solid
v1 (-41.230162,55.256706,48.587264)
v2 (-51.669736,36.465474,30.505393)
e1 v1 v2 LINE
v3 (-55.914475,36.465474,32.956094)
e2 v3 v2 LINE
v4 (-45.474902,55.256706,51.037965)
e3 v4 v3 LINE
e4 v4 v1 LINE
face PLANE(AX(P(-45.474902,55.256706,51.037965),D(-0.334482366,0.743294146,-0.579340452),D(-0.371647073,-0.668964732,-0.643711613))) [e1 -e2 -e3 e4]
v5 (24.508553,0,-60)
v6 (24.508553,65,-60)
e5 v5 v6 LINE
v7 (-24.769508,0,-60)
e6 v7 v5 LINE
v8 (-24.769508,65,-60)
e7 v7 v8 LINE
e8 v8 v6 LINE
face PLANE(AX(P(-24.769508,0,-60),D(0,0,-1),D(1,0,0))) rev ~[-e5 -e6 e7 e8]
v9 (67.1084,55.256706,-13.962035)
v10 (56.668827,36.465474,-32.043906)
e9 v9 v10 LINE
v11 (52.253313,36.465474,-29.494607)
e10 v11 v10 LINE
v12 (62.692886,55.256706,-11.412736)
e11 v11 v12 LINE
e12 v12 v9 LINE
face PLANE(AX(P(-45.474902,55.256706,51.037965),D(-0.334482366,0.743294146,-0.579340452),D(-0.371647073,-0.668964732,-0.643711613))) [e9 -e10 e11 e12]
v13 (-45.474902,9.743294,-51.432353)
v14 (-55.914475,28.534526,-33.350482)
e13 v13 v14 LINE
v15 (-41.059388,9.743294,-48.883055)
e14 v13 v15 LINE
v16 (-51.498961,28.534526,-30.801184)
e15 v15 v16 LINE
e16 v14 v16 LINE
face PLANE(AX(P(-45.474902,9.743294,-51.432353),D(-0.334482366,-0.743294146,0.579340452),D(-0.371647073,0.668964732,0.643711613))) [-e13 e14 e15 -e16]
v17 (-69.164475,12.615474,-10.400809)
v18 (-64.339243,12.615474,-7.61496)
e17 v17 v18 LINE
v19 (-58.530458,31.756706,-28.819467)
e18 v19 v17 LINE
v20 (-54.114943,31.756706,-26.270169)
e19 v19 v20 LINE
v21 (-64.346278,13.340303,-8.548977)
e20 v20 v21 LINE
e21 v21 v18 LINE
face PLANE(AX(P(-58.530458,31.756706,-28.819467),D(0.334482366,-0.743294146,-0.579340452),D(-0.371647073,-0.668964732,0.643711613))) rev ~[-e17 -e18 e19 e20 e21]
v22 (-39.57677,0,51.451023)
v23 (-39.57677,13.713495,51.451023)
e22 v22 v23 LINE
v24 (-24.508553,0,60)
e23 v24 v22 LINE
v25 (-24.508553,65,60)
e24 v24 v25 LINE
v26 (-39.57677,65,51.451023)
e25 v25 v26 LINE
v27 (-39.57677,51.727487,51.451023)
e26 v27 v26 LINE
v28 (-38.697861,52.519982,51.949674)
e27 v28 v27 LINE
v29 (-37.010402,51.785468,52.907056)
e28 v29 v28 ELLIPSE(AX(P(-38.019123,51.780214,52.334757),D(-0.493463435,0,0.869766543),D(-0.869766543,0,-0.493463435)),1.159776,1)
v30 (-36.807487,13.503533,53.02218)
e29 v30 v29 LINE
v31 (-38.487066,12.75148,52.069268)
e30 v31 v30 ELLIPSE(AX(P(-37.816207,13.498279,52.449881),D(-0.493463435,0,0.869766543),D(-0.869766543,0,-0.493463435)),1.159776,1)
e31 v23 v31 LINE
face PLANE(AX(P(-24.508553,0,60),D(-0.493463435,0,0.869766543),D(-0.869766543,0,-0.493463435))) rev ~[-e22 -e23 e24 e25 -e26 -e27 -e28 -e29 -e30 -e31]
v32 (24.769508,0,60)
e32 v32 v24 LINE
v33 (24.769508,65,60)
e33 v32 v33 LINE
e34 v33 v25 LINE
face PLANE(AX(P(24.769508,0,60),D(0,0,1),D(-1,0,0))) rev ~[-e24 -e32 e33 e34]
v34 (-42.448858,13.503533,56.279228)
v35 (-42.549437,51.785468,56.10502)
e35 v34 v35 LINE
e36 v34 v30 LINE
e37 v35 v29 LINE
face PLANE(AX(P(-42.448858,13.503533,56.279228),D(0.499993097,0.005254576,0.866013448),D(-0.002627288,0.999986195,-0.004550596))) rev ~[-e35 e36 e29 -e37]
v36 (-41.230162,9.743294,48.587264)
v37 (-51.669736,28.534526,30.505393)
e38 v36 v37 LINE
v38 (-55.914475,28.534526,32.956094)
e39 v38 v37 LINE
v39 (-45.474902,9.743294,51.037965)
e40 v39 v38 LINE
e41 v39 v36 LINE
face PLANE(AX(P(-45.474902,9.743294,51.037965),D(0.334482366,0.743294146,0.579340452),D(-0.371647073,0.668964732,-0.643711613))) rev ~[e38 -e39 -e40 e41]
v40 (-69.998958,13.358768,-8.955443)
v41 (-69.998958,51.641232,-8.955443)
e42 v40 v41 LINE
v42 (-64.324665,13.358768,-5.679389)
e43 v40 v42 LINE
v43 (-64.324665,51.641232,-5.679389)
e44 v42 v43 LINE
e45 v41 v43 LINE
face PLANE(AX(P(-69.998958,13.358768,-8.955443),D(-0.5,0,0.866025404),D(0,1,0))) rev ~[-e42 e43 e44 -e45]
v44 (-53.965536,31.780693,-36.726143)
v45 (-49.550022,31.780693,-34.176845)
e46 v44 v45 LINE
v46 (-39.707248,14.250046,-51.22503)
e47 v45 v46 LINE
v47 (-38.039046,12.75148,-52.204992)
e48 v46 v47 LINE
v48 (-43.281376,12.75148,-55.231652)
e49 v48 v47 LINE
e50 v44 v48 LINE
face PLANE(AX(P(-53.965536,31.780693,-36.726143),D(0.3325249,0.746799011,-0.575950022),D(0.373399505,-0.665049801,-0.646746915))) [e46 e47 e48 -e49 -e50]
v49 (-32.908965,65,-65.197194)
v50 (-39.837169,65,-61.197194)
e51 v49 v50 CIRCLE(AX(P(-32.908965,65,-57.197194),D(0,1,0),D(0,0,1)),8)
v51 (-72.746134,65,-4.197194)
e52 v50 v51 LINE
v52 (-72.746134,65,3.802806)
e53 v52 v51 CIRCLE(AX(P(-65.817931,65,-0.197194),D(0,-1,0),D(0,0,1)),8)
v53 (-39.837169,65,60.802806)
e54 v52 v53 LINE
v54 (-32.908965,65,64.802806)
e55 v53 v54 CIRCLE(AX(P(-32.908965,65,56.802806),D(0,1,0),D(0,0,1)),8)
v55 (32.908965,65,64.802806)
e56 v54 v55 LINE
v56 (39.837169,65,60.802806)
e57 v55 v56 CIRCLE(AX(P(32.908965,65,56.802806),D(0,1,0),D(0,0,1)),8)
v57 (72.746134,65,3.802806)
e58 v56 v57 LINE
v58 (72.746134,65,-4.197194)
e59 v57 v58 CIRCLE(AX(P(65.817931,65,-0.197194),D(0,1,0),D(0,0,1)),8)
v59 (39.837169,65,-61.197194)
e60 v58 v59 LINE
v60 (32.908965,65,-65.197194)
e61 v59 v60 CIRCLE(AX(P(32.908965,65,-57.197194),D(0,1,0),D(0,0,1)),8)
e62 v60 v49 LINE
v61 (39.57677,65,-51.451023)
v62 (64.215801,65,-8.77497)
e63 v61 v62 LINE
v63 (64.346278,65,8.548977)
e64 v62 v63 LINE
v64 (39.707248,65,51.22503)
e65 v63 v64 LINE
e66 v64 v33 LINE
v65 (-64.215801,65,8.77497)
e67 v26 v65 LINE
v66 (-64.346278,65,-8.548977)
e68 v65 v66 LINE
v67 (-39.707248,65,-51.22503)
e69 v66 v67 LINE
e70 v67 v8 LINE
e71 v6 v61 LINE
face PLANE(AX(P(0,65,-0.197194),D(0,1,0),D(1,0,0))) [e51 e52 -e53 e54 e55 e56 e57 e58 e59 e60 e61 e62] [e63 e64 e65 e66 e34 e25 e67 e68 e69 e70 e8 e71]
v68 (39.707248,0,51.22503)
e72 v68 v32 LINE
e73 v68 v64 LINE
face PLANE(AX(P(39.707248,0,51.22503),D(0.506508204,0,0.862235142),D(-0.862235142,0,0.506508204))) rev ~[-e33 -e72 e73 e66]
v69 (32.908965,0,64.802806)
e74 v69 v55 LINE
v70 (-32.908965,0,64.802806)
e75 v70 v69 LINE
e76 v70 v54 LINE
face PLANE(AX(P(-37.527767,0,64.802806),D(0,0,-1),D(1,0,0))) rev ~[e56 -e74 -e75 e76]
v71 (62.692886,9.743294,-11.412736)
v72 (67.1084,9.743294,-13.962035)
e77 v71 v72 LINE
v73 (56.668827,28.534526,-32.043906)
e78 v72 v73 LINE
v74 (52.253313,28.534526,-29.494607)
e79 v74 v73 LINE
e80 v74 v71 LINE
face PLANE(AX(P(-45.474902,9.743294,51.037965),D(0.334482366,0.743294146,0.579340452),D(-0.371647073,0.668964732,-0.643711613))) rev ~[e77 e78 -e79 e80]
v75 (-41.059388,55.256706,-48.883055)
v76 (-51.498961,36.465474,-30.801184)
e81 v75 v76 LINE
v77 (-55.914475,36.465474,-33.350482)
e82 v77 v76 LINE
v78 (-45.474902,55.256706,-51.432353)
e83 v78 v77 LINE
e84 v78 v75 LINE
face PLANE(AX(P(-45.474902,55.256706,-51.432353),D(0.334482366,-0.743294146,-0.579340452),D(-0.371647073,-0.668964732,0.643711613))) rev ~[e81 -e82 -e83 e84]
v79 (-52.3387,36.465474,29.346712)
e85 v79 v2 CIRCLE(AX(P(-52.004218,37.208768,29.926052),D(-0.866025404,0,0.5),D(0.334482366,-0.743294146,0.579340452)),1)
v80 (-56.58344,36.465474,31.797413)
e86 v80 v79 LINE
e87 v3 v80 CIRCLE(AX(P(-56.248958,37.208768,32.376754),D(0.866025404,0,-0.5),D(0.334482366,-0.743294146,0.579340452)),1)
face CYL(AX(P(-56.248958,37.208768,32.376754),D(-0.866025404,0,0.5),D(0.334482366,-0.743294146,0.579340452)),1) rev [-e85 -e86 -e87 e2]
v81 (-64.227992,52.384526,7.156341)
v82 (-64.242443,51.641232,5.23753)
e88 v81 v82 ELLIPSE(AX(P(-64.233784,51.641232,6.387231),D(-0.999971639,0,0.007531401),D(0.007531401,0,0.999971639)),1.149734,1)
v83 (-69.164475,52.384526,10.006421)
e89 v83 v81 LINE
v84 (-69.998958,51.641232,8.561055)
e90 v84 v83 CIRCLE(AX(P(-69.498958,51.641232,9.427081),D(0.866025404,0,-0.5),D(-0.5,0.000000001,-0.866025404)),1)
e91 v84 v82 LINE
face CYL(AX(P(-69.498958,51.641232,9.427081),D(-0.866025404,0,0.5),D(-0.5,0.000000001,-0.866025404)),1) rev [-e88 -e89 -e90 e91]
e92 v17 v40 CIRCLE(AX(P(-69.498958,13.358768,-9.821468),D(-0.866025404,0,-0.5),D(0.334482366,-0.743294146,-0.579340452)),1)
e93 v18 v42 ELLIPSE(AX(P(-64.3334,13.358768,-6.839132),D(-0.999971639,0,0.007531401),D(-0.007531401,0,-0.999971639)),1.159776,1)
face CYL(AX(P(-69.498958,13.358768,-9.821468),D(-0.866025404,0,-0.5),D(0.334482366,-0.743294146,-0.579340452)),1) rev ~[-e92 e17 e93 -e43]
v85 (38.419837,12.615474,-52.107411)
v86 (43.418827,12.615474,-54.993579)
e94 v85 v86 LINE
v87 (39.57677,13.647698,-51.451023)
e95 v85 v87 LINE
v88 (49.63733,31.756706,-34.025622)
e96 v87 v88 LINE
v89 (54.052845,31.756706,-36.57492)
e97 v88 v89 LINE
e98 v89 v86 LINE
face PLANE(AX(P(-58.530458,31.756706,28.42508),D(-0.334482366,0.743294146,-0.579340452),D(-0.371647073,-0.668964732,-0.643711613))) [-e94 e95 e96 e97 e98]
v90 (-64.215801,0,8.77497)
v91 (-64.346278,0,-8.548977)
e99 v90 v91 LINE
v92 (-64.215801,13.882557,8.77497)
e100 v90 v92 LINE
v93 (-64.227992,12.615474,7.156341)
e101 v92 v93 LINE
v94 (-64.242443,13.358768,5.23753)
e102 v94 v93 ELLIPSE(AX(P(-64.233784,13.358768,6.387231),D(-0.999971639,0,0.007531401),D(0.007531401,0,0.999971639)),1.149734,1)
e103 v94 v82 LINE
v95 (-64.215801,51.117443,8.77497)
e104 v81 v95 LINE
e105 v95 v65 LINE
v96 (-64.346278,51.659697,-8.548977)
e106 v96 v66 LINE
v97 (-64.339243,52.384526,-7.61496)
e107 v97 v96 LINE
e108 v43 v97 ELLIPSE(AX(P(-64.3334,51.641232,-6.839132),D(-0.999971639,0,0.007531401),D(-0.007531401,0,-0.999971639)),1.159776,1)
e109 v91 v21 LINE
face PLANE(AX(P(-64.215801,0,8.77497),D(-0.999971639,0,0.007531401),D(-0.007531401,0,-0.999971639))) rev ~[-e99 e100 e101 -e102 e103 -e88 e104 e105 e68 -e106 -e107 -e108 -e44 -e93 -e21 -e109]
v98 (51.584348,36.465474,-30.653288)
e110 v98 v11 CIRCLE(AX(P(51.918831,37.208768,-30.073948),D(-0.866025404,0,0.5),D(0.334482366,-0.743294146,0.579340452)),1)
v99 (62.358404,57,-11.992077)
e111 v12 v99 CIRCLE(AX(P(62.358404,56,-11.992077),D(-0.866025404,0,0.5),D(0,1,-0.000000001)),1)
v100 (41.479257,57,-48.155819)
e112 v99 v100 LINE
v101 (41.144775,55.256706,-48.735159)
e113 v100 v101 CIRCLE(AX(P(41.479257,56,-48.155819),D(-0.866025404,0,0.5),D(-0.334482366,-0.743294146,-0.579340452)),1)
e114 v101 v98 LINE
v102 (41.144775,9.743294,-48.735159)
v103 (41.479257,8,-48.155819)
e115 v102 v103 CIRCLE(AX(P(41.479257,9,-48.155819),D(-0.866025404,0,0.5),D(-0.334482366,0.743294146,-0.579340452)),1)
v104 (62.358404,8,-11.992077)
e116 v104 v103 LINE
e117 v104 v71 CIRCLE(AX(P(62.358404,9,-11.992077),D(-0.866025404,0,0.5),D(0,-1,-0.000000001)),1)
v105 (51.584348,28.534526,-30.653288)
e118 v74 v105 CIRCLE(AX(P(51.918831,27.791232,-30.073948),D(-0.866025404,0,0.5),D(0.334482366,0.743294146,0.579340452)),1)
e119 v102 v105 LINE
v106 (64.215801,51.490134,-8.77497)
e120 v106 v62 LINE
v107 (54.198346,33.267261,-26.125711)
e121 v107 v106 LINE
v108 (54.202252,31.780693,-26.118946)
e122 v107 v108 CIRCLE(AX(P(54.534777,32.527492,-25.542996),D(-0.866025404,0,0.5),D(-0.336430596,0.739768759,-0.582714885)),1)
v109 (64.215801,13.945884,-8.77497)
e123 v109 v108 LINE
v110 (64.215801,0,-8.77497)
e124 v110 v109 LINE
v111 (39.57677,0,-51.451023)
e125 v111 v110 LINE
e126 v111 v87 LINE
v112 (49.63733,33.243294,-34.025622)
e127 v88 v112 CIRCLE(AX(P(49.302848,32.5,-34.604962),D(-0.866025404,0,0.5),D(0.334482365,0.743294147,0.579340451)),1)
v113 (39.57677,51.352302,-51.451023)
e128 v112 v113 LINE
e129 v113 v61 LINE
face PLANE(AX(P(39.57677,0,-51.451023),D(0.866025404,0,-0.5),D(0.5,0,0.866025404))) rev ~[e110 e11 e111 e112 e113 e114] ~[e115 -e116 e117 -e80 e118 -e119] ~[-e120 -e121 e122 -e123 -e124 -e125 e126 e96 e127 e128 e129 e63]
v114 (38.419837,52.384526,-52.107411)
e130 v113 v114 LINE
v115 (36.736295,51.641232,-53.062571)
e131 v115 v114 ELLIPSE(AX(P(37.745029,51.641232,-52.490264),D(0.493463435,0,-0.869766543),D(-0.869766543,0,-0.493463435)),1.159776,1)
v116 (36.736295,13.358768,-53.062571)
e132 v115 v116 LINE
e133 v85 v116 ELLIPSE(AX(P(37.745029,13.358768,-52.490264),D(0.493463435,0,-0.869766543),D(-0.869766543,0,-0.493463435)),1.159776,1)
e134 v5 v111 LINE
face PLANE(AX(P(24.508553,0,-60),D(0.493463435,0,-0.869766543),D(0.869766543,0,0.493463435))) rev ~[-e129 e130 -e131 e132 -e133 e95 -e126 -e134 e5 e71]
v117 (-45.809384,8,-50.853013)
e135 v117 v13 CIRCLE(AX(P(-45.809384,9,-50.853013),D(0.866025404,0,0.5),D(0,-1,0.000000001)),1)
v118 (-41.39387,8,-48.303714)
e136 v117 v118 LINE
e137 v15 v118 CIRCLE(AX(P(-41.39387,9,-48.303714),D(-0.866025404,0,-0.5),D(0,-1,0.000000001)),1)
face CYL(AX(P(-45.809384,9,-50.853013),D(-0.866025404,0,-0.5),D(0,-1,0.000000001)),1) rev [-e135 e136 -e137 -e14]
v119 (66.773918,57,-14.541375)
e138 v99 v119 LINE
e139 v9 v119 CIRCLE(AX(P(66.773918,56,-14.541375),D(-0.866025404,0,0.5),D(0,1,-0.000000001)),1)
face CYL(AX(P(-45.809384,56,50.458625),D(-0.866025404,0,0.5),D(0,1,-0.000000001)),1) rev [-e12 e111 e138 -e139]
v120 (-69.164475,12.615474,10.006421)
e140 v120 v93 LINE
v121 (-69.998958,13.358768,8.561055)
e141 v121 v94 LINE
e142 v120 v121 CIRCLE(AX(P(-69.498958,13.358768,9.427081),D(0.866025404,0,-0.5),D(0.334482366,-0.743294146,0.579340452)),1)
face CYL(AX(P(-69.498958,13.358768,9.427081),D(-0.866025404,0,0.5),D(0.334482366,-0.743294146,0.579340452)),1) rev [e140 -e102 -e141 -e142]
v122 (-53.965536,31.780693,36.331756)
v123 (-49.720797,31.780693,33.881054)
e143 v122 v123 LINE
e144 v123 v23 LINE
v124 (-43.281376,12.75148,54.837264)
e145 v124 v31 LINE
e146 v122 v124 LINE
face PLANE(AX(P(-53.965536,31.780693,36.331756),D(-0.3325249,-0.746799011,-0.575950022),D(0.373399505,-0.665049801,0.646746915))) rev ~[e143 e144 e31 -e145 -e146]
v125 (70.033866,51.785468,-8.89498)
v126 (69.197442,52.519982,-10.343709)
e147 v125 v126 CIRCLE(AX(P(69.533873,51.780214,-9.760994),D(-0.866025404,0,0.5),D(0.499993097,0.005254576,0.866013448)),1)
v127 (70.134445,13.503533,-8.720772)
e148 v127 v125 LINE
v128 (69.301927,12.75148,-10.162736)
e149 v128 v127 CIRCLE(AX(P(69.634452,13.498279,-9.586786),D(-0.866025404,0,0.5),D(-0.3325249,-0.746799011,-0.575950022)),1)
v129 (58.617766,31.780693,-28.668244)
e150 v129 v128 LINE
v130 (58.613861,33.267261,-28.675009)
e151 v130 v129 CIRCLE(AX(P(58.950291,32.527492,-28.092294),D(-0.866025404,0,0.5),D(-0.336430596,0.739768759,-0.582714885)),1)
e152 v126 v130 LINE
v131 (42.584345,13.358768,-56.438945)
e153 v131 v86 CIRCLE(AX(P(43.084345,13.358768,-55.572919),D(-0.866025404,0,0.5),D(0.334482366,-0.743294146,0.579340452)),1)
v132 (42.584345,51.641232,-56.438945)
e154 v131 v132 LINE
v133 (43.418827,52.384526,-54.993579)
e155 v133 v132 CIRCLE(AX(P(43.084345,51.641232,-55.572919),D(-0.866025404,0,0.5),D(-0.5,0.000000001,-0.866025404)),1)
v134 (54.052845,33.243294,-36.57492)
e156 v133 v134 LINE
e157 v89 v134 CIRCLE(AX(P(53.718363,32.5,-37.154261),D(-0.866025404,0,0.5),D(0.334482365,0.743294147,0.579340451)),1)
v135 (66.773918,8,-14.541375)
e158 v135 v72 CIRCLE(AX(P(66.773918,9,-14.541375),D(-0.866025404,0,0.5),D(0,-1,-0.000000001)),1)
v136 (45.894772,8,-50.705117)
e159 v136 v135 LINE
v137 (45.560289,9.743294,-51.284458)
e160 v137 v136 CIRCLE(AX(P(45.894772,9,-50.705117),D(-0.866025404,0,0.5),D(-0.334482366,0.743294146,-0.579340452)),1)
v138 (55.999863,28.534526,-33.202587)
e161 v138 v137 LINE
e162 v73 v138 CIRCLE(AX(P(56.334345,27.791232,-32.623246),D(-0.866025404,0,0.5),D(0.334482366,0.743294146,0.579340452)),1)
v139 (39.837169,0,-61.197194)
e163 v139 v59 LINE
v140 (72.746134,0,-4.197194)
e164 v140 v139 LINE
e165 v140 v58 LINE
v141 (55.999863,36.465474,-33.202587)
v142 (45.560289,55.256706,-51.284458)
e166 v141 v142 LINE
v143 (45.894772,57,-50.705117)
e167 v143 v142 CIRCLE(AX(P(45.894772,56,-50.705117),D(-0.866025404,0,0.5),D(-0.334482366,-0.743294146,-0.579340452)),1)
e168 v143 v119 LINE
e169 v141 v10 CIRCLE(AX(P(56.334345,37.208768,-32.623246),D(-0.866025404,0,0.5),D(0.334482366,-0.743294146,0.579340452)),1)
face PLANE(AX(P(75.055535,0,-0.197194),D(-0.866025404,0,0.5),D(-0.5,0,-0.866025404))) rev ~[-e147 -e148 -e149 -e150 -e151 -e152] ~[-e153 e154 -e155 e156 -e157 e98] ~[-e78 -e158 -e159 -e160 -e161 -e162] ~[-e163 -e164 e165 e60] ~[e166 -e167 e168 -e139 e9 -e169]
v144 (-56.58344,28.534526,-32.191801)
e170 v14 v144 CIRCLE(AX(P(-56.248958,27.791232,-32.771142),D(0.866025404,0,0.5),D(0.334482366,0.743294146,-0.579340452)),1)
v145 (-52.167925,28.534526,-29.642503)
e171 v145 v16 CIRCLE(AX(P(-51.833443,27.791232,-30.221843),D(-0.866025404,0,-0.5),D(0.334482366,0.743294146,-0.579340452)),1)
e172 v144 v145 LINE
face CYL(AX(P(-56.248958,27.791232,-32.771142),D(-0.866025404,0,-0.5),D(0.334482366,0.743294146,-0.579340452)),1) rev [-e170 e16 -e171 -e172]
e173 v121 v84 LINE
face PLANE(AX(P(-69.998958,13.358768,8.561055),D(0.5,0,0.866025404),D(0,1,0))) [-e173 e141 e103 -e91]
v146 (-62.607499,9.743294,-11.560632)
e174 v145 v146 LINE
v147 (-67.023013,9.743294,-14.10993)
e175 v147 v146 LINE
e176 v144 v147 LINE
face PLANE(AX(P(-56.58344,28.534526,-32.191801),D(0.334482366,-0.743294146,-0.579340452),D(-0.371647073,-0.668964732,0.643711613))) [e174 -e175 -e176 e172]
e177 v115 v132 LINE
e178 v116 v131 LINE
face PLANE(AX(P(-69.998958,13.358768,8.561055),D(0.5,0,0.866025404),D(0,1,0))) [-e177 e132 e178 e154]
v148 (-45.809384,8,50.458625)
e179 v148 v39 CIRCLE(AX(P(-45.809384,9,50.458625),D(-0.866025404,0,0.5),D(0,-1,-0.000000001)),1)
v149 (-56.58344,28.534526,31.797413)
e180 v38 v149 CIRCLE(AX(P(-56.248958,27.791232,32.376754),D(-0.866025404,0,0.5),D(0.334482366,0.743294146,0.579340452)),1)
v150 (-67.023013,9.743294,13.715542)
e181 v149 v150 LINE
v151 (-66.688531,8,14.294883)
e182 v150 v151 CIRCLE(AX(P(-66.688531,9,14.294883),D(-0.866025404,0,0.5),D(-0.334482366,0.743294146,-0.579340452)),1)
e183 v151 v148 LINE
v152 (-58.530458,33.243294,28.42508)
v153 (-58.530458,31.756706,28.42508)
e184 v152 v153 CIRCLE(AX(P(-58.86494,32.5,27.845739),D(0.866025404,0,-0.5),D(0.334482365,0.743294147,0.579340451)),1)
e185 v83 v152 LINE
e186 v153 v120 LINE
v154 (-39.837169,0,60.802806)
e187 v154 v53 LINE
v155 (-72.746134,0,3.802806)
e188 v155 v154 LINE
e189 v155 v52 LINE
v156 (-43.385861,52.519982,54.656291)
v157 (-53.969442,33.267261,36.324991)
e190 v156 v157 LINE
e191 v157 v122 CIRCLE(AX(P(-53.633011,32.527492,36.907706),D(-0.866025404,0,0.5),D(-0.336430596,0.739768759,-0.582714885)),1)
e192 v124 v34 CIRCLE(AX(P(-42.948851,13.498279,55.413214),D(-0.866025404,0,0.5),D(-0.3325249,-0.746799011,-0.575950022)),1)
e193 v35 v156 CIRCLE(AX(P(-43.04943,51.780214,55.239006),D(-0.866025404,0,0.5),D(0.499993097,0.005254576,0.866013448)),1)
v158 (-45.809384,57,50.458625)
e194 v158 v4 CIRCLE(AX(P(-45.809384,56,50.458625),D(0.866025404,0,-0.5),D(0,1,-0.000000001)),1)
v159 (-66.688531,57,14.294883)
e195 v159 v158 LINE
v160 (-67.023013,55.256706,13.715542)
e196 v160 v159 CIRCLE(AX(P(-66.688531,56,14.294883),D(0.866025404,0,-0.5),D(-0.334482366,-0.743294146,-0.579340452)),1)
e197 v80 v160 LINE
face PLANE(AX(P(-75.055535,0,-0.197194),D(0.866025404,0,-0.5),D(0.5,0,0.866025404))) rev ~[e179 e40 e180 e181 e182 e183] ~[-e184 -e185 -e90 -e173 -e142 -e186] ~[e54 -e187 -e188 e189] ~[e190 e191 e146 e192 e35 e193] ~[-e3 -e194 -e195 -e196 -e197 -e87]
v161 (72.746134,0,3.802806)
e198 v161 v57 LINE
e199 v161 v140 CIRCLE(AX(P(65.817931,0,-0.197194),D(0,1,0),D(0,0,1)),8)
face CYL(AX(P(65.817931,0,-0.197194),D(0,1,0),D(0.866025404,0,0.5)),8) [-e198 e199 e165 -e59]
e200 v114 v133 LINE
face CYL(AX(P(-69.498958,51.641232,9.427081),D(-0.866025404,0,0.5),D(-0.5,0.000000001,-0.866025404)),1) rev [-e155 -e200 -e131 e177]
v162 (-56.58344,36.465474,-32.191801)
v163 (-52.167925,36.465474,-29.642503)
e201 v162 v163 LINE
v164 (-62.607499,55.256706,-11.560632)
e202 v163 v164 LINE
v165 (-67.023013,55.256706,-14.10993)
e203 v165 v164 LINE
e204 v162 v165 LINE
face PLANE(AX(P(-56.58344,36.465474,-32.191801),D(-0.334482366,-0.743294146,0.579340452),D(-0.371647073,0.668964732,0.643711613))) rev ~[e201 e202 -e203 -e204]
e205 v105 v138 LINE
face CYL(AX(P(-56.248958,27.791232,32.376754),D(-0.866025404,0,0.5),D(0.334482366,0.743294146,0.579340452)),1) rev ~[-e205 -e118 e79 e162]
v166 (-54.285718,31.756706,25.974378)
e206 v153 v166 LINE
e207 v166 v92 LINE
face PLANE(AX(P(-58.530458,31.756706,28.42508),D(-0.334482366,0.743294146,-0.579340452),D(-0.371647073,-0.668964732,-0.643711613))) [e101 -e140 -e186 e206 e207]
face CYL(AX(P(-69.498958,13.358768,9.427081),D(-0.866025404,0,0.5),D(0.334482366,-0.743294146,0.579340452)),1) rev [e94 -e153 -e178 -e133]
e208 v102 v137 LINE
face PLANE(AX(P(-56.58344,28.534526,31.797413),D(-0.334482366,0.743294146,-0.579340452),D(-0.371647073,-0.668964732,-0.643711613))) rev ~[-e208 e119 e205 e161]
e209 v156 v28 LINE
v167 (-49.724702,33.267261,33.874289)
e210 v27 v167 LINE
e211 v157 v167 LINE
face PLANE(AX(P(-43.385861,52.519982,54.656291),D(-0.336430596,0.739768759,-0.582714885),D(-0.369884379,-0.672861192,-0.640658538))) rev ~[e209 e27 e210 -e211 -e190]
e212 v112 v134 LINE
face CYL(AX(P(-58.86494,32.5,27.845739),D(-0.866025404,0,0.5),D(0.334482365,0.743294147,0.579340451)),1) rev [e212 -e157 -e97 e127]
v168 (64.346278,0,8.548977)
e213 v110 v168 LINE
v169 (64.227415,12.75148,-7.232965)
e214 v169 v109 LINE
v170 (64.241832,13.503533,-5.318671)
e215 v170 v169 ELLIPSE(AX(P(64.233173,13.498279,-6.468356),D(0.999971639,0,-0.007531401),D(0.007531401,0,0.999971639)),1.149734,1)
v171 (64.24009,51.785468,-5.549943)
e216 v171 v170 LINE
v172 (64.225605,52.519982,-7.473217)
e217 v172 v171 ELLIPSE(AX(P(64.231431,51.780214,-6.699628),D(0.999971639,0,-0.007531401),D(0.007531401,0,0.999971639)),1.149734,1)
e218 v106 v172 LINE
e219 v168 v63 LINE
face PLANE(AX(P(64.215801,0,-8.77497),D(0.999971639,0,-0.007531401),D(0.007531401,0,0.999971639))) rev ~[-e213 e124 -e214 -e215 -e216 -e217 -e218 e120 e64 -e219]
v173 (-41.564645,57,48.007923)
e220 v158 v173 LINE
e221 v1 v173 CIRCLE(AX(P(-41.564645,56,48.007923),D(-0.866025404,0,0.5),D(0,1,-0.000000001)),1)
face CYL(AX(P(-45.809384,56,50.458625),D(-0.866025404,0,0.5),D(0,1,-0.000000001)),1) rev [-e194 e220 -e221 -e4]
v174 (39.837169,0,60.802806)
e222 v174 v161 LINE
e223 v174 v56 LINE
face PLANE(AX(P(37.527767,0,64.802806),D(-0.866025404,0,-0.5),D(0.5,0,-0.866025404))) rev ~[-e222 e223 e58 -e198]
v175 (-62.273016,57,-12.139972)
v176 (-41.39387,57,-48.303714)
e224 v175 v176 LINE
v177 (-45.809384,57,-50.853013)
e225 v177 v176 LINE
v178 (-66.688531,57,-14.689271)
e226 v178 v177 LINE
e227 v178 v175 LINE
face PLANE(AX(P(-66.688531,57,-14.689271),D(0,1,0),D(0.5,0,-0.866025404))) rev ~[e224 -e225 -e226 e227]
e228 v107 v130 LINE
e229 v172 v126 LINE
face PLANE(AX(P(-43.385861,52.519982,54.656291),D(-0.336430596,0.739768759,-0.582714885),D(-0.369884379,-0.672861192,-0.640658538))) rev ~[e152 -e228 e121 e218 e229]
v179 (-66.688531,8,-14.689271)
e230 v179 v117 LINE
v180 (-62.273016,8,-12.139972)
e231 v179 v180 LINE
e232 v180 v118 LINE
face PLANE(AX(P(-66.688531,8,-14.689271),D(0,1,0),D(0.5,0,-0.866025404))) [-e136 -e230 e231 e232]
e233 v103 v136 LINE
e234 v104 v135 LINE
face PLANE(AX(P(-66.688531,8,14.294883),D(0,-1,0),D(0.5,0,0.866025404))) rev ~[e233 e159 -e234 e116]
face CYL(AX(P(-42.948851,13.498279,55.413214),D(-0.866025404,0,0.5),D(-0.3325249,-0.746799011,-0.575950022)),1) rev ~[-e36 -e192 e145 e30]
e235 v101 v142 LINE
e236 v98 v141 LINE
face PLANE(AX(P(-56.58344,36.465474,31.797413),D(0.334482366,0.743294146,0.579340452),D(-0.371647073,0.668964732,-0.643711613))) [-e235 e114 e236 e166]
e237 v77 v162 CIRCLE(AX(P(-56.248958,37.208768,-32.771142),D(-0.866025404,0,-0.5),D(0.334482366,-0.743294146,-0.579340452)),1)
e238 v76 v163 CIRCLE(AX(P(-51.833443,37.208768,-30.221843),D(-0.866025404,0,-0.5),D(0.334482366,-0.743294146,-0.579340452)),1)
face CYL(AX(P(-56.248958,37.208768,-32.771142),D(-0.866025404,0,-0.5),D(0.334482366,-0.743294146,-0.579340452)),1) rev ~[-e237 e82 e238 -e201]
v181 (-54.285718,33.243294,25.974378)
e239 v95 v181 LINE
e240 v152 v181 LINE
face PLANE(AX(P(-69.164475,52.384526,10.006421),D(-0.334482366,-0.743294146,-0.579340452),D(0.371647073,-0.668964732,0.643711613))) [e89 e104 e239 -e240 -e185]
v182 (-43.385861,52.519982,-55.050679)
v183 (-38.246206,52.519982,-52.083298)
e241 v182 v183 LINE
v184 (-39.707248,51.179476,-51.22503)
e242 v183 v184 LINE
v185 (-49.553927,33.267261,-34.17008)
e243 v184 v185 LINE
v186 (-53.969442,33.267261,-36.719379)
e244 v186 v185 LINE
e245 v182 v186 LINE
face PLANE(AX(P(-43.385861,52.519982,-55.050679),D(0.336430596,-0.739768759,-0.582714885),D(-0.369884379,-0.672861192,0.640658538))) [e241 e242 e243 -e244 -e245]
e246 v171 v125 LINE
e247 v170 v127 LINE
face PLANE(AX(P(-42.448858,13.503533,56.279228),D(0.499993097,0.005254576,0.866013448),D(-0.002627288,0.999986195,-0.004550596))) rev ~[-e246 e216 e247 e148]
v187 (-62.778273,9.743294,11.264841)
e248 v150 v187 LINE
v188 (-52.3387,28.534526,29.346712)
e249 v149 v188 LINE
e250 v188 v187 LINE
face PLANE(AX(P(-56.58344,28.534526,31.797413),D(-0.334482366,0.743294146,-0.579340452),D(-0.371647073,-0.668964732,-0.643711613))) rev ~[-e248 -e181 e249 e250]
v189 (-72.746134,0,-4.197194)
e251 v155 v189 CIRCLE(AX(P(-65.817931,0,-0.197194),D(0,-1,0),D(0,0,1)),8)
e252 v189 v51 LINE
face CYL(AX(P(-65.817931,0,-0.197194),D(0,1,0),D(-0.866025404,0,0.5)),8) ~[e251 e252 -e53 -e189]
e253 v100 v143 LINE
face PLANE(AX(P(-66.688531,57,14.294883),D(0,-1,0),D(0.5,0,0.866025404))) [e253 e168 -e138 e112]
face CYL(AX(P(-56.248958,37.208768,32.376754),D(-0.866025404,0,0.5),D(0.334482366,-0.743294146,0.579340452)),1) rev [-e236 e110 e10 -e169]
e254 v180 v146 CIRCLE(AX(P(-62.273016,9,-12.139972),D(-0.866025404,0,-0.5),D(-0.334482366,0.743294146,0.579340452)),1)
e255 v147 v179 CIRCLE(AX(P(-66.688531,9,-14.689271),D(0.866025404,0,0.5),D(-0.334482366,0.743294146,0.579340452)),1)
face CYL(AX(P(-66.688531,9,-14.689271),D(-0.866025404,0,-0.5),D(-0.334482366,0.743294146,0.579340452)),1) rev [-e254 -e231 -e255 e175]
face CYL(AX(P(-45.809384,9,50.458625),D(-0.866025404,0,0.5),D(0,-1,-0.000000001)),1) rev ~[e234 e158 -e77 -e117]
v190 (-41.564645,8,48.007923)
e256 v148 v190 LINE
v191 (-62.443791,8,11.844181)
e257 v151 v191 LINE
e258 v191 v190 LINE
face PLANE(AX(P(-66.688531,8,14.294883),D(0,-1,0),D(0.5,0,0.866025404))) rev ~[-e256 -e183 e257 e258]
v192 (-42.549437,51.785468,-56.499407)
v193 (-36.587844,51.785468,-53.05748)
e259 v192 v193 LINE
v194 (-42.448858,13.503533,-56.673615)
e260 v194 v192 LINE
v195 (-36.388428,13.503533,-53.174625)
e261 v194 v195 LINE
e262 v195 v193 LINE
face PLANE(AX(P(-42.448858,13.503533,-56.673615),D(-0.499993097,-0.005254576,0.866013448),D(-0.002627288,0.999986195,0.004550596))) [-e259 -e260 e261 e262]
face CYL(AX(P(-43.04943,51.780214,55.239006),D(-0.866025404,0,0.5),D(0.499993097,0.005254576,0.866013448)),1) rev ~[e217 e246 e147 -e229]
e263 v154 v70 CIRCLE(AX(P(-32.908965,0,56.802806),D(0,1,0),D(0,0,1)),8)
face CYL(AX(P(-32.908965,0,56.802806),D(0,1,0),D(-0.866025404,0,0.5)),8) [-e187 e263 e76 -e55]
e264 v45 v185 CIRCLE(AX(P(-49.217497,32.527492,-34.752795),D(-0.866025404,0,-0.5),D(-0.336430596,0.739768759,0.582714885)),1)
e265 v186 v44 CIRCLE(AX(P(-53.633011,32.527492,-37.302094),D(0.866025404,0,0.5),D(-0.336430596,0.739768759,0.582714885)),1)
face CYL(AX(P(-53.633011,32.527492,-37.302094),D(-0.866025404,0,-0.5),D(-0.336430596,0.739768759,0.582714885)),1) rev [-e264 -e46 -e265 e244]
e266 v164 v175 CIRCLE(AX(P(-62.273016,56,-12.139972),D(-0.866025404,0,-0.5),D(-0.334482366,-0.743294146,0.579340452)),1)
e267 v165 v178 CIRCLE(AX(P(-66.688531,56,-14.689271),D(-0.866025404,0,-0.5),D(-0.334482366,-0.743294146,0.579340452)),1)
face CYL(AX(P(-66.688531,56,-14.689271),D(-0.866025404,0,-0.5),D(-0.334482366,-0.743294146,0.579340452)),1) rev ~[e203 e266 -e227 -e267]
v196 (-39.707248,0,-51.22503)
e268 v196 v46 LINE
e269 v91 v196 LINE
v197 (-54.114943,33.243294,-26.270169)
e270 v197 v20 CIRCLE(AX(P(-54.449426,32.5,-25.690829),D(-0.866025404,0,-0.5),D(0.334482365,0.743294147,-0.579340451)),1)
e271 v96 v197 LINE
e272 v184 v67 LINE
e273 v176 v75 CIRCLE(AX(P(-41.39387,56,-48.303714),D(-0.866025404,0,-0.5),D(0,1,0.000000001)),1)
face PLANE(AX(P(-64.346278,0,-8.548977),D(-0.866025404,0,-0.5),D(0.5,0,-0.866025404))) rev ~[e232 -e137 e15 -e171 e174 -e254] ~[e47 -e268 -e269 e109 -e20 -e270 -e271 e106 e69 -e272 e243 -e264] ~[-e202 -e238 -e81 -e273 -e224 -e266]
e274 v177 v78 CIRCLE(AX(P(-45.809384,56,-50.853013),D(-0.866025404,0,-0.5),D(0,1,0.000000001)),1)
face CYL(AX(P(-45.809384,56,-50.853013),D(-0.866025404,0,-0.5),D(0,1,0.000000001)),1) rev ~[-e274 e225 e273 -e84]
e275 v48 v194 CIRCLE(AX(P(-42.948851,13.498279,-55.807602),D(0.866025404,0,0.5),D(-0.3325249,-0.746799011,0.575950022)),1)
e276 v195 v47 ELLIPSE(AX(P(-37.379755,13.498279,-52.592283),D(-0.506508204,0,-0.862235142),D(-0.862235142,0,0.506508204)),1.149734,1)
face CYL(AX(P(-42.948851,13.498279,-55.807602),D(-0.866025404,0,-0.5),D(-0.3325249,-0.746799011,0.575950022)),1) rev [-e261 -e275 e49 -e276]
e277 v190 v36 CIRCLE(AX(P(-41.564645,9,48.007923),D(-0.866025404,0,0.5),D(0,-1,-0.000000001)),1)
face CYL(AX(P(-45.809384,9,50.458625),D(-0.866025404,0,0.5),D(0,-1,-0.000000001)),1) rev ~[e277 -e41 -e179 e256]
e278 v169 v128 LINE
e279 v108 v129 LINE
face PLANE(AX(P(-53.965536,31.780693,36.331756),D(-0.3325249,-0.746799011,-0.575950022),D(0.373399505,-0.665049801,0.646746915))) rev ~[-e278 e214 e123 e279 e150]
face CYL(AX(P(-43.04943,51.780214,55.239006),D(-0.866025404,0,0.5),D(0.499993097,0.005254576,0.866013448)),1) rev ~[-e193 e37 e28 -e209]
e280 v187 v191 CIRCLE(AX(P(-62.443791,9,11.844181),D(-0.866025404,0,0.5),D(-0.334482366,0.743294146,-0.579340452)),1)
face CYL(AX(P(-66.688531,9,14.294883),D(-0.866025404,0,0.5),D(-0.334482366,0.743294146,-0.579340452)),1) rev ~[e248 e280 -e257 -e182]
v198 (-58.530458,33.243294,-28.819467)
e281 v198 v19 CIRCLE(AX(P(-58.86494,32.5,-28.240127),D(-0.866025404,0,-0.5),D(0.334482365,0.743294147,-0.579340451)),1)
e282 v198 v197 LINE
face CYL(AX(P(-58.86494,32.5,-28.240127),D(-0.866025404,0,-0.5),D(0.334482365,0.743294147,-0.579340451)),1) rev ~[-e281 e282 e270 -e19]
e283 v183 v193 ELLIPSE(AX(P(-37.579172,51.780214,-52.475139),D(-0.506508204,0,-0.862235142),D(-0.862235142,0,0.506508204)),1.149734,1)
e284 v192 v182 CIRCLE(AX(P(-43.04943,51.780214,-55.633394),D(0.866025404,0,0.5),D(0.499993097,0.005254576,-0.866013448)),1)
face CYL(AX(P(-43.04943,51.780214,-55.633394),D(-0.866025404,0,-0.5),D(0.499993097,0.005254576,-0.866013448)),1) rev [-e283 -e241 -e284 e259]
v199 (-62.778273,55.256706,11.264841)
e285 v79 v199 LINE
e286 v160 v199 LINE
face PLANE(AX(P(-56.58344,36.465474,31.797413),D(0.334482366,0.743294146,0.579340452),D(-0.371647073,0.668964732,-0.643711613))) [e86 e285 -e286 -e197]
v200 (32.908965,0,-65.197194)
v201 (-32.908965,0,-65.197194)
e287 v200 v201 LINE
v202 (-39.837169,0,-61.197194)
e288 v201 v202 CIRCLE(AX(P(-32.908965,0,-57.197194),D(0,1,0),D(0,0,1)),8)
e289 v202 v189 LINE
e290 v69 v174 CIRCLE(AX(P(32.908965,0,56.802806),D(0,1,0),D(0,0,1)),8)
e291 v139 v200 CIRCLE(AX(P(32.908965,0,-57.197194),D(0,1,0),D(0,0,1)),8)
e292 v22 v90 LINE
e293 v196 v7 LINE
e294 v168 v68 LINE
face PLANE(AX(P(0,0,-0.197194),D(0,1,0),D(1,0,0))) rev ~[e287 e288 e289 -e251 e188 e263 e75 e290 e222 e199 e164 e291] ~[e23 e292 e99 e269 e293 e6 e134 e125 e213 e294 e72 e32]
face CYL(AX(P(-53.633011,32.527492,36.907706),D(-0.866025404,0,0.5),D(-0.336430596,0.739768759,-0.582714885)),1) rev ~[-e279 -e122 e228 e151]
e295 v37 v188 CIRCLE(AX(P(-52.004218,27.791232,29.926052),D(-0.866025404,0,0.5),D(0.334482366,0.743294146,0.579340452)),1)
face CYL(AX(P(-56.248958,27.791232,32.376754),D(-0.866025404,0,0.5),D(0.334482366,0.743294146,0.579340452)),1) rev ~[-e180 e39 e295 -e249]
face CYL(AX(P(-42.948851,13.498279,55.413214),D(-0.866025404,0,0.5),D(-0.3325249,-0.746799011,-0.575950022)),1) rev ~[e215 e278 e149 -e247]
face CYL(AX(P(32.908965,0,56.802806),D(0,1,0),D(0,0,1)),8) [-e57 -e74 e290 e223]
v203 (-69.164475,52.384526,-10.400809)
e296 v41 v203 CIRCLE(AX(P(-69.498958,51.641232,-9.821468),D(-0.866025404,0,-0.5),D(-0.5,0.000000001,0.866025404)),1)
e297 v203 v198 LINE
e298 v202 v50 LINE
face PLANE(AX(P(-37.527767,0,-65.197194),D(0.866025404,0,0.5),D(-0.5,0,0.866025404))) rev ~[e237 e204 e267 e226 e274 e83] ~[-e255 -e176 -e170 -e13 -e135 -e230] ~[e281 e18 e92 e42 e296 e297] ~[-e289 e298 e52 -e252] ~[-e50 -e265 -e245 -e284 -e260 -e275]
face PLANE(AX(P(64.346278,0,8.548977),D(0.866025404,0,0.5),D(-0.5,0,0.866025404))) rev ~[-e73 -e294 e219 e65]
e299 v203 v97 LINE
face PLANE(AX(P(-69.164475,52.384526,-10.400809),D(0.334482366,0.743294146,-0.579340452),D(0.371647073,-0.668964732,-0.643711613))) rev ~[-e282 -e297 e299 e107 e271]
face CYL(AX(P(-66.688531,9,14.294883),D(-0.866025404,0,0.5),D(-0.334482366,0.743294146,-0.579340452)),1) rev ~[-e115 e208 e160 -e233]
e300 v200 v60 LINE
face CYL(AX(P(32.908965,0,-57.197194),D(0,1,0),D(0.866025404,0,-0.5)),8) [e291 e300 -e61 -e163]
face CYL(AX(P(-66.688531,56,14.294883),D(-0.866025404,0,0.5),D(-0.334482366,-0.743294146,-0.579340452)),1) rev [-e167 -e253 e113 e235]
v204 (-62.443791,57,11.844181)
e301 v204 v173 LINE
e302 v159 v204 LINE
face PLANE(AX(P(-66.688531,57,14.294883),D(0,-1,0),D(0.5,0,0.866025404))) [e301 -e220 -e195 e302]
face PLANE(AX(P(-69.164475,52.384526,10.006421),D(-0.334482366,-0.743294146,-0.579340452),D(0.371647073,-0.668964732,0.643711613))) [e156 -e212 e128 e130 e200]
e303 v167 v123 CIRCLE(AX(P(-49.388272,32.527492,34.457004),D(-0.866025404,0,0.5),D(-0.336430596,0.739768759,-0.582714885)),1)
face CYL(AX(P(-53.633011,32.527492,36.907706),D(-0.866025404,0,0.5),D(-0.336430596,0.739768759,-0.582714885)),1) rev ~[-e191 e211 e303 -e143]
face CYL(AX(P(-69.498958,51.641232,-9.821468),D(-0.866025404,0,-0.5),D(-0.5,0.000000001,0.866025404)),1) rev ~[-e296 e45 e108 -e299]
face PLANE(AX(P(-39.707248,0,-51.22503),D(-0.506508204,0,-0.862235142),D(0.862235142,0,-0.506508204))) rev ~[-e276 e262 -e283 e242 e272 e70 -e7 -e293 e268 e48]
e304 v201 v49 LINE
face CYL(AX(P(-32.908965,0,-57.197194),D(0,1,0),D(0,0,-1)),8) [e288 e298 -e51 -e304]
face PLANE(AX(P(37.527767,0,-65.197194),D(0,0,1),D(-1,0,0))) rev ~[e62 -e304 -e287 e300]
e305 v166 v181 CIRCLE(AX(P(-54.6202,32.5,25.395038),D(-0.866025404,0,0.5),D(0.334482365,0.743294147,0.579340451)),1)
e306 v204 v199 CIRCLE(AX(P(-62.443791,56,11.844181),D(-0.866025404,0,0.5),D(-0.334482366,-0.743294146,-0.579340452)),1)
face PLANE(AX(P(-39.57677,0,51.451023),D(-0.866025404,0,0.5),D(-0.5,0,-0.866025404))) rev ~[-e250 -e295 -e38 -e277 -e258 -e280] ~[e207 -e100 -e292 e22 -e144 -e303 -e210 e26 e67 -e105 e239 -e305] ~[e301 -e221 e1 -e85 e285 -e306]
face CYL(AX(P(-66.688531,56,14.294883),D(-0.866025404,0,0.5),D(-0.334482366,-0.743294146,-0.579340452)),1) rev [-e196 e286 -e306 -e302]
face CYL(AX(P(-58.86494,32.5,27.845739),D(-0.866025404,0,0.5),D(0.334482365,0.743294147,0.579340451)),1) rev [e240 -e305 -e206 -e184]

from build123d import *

# Parameters (mm, degrees)
BOSS_EXTRUDE1_DEPTH = 65
FILLET1_R           = 8
CUT_EXTRUDE1_DEPTH  = 65
CUT_EXTRUDE2_REACH  = 177.118
CUT_EXTRUDE3_DEPTH  = 50


with BuildPart() as part:
    # Sketch1 → Boss-Extrude1 (new body)
    with BuildSketch(Plane(origin=(0, 0, 0), x_dir=(1, 0, 0), z_dir=(0, 1, 0))):
        Polygon((-75.055534995, 0.197193855), (-37.527767497, -64.802806145), (37.527767497, -64.802806145), (75.055534995, 0.197193855), (37.527767497, 65.197193855), (-37.527767497, 65.197193855), align=None)
    extrude(amount=BOSS_EXTRUDE1_DEPTH)

    # Fillet1
    fillet1_edges = [part.edges().sort_by_distance(p)[0] for p in [
        (-37.527767497, 32.5, -65.197193855),
        (37.527767497, 32.5, -65.197193855),
        (75.055534995, 32.5, -0.197193855),
        (37.527767497, 32.5, 64.802806145),
        (-37.527767497, 32.5, 64.802806145),
        (-75.055534995, 32.5, -0.197193855),
    ]]
    fillet(fillet1_edges, radius=FILLET1_R)

    # Sketch2 → Cut-Extrude1 (cut)
    with BuildSketch(Plane(origin=(0, 0, 0), x_dir=(1, 0, 0), z_dir=(0, 1, 0))):
        Polygon((-39.707247658, 51.225029628), (-24.769507731, 60), (24.508553139, 60), (39.576770362, 51.451022934), (64.215800796, 8.774970372), (64.346278093, -8.548977066), (39.707247658, -51.225029628), (24.769507731, -60), (-24.508553139, -60), (-39.576770362, -51.451022934), (-64.215800796, -8.774970372), (-64.346278093, 8.548977066), align=None)
    extrude(amount=CUT_EXTRUDE1_DEPTH, mode=Mode.SUBTRACT)

    # Cut-Extrude2: up to this face of the body (flat: up to its plane)
    cut_extrude2_end = Plane(part.part.faces().sort_by_distance((56.291651246, 32.5, -32.697193855))[0])
    # Sketch4 → Cut-Extrude2 (cut, up to the picked face)
    with BuildSketch(Plane(origin=(-56.206263802, 0, 32.450701536), x_dir=(0.5000000000000002, 0, 0.8660254037844386), z_dir=(-0.8660254037844386, 0, 0.5000000000000002)), mode=Mode.PRIVATE) as cut_extrude2_sk1:
        with BuildLine():
            Line((-4.64838762, 31.756705854), (-25.916422712, 12.61547427))
            ThreePointArc((-25.916422712, 12.61547427), (-26.992226029, 12.445268353), (-27.585387444, 13.358768416))
            Line((-27.585387444, 13.358768416), (-27.585387444, 51.641231584))
            ThreePointArc((-27.585387444, 51.641231584), (-26.992226029, 52.554731647), (-25.916422712, 52.38452573))
            Line((-25.916422712, 52.38452573), (-4.64838762, 33.243294146))
            ThreePointArc((-4.64838762, 33.243294146), (-4.317352351, 32.5), (-4.64838762, 31.756705854))
        make_face()
    cut_extrude2_tool1 = split(extrude(cut_extrude2_sk1.sketch, amount=-CUT_EXTRUDE2_REACH, mode=Mode.PRIVATE), bisect_by=cut_extrude2_end, keep=Keep.BOTH, mode=Mode.PRIVATE)
    # Sketch4 → Cut-Extrude2 (cut, up to the picked face)
    with BuildSketch(Plane(origin=(-56.206263802, 0, 32.450701536), x_dir=(0.5000000000000002, 0, 0.8660254037844386), z_dir=(-0.8660254037844386, 0, 0.5000000000000002)), mode=Mode.PRIVATE) as cut_extrude2_sk2:
        with BuildLine():
            Line((-0.754352176, 36.46547427), (-21.63349838, 55.256705854))
            ThreePointArc((-21.63349838, 55.256705854), (-21.89815406, 56.358263767), (-20.964533648, 57))
            Line((-20.964533648, 57), (20.79375876, 57))
            ThreePointArc((20.79375876, 57), (21.727379172, 56.358263767), (21.462723491, 55.256705854))
            Line((21.462723491, 55.256705854), (0.583577288, 36.46547427))
            ThreePointArc((0.583577288, 36.46547427), (-0.085387444, 36.208768416), (-0.754352176, 36.46547427))
        make_face()
    cut_extrude2_tool2 = split(extrude(cut_extrude2_sk2.sketch, amount=-CUT_EXTRUDE2_REACH, mode=Mode.PRIVATE), bisect_by=cut_extrude2_end, keep=Keep.BOTH, mode=Mode.PRIVATE)
    # Sketch4 → Cut-Extrude2 (cut, up to the picked face)
    with BuildSketch(Plane(origin=(-56.206263802, 0, 32.450701536), x_dir=(0.5000000000000002, 0, 0.8660254037844386), z_dir=(-0.8660254037844386, 0, 0.5000000000000002)), mode=Mode.PRIVATE) as cut_extrude2_sk3:
        with BuildLine():
            Line((21.462723491, 9.743294146), (0.583577288, 28.53452573))
            ThreePointArc((0.583577288, 28.53452573), (-0.085387444, 28.791231584), (-0.754352176, 28.53452573))
            Line((-0.754352176, 28.53452573), (-21.63349838, 9.743294146))
            ThreePointArc((-21.63349838, 9.743294146), (-21.89815406, 8.641736233), (-20.964533648, 8))
            Line((-20.964533648, 8), (20.79375876, 8))
            ThreePointArc((20.79375876, 8), (21.727379172, 8.641736233), (21.462723491, 9.743294146))
        make_face()
    cut_extrude2_tool3 = split(extrude(cut_extrude2_sk3.sketch, amount=-CUT_EXTRUDE2_REACH, mode=Mode.PRIVATE), bisect_by=cut_extrude2_end, keep=Keep.BOTH, mode=Mode.PRIVATE)
    # Sketch4 → Cut-Extrude2 (cut, up to the picked face)
    with BuildSketch(Plane(origin=(-56.206263802, 0, 32.450701536), x_dir=(0.5000000000000002, 0, 0.8660254037844386), z_dir=(-0.8660254037844386, 0, 0.5000000000000002)), mode=Mode.PRIVATE) as cut_extrude2_sk4:
        with BuildLine():
            Line((25.640806472, 52.519982346), (4.473644042, 33.267260514))
            ThreePointArc((4.473644042, 33.267260514), (4.146519039, 32.52223718), (4.481455433, 31.780692745))
            Line((4.481455433, 31.780692745), (25.849775962, 12.751479913))
            ThreePointArc((25.849775962, 12.751479913), (26.926458787, 12.586929236), (27.514811958, 13.503533499))
            Line((27.514811958, 13.503533499), (27.313653858, 51.785468163))
            ThreePointArc((27.313653858, 51.785468163), (26.715700577, 52.695838803), (25.640806472, 52.519982346))
        make_face()
    cut_extrude2_tool4 = split(extrude(cut_extrude2_sk4.sketch, amount=-CUT_EXTRUDE2_REACH, mode=Mode.PRIVATE), bisect_by=cut_extrude2_end, keep=Keep.BOTH, mode=Mode.PRIVATE)
    add(cut_extrude2_tool1.solids().sort_by(Axis((-66.026454, 32.5, 15.441634), (0.8660254037844386, 0, -0.5000000000000002)))[0], mode=Mode.SUBTRACT)
    add(cut_extrude2_tool2.solids().sort_by(Axis((-56.248958, 49.92174, 32.376754), (0.8660254037844386, 0, -0.5000000000000002)))[0], mode=Mode.SUBTRACT)
    add(cut_extrude2_tool3.solids().sort_by(Axis((-56.248958, 15.07826, 32.376754), (0.8660254037844386, 0, -0.5000000000000002)))[0], mode=Mode.SUBTRACT)
    add(cut_extrude2_tool4.solids().sort_by(Axis((-46.471596, 32.602753, 49.31164), (0.8660254037844386, 0, -0.5000000000000002)))[0], mode=Mode.SUBTRACT)

    # Sketch6 → Cut-Extrude3 (cut)
    with BuildSketch(Plane(origin=(-56.206263802, 0, -32.845089247), x_dir=(0.5, 0, -0.8660254037844386), z_dir=(0.8660254037844387, 0, 0.5000000000000001))):
        with BuildLine():
            Line((-4.64838762, 31.756705854), (-25.916422712, 12.61547427))
            ThreePointArc((-25.916422712, 12.61547427), (-26.992226029, 12.445268353), (-27.585387444, 13.358768416))
            Line((-27.585387444, 13.358768416), (-27.585387444, 51.641231584))
            ThreePointArc((-27.585387444, 51.641231584), (-26.992226029, 52.554731647), (-25.916422712, 52.38452573))
            Line((-25.916422712, 52.38452573), (-4.64838762, 33.243294146))
            ThreePointArc((-4.64838762, 33.243294146), (-4.317352351, 32.5), (-4.64838762, 31.756705854))
        make_face()
        with BuildLine():
            Line((-0.754352176, 36.46547427), (-21.63349838, 55.256705854))
            ThreePointArc((-21.63349838, 55.256705854), (-21.89815406, 56.358263767), (-20.964533648, 57))
            Line((-20.964533648, 57), (20.79375876, 57))
            ThreePointArc((20.79375876, 57), (21.727379172, 56.358263767), (21.462723491, 55.256705854))
            Line((21.462723491, 55.256705854), (0.583577288, 36.46547427))
            ThreePointArc((0.583577288, 36.46547427), (-0.085387444, 36.208768416), (-0.754352176, 36.46547427))
        make_face()
        with BuildLine():
            Line((21.462723491, 9.743294146), (0.583577288, 28.53452573))
            ThreePointArc((0.583577288, 28.53452573), (-0.085387444, 28.791231584), (-0.754352176, 28.53452573))
            Line((-0.754352176, 28.53452573), (-21.63349838, 9.743294146))
            ThreePointArc((-21.63349838, 9.743294146), (-21.89815406, 8.641736233), (-20.964533648, 8))
            Line((-20.964533648, 8), (20.79375876, 8))
            ThreePointArc((20.79375876, 8), (21.727379172, 8.641736233), (21.462723491, 9.743294146))
        make_face()
        with BuildLine():
            Line((25.640806472, 52.519982346), (4.473644042, 33.267260514))
            ThreePointArc((4.473644042, 33.267260514), (4.146519039, 32.52223718), (4.481455433, 31.780692745))
            Line((4.481455433, 31.780692745), (25.849775962, 12.751479913))
            ThreePointArc((25.849775962, 12.751479913), (26.926458787, 12.586929236), (27.514811958, 13.503533499))
            Line((27.514811958, 13.503533499), (27.313653858, 51.785468163))
            ThreePointArc((27.313653858, 51.785468163), (26.715700577, 52.695838803), (25.640806472, 52.519982346))
        make_face()
    extrude(amount=CUT_EXTRUDE3_DEPTH, mode=Mode.SUBTRACT)


solid = part.part
